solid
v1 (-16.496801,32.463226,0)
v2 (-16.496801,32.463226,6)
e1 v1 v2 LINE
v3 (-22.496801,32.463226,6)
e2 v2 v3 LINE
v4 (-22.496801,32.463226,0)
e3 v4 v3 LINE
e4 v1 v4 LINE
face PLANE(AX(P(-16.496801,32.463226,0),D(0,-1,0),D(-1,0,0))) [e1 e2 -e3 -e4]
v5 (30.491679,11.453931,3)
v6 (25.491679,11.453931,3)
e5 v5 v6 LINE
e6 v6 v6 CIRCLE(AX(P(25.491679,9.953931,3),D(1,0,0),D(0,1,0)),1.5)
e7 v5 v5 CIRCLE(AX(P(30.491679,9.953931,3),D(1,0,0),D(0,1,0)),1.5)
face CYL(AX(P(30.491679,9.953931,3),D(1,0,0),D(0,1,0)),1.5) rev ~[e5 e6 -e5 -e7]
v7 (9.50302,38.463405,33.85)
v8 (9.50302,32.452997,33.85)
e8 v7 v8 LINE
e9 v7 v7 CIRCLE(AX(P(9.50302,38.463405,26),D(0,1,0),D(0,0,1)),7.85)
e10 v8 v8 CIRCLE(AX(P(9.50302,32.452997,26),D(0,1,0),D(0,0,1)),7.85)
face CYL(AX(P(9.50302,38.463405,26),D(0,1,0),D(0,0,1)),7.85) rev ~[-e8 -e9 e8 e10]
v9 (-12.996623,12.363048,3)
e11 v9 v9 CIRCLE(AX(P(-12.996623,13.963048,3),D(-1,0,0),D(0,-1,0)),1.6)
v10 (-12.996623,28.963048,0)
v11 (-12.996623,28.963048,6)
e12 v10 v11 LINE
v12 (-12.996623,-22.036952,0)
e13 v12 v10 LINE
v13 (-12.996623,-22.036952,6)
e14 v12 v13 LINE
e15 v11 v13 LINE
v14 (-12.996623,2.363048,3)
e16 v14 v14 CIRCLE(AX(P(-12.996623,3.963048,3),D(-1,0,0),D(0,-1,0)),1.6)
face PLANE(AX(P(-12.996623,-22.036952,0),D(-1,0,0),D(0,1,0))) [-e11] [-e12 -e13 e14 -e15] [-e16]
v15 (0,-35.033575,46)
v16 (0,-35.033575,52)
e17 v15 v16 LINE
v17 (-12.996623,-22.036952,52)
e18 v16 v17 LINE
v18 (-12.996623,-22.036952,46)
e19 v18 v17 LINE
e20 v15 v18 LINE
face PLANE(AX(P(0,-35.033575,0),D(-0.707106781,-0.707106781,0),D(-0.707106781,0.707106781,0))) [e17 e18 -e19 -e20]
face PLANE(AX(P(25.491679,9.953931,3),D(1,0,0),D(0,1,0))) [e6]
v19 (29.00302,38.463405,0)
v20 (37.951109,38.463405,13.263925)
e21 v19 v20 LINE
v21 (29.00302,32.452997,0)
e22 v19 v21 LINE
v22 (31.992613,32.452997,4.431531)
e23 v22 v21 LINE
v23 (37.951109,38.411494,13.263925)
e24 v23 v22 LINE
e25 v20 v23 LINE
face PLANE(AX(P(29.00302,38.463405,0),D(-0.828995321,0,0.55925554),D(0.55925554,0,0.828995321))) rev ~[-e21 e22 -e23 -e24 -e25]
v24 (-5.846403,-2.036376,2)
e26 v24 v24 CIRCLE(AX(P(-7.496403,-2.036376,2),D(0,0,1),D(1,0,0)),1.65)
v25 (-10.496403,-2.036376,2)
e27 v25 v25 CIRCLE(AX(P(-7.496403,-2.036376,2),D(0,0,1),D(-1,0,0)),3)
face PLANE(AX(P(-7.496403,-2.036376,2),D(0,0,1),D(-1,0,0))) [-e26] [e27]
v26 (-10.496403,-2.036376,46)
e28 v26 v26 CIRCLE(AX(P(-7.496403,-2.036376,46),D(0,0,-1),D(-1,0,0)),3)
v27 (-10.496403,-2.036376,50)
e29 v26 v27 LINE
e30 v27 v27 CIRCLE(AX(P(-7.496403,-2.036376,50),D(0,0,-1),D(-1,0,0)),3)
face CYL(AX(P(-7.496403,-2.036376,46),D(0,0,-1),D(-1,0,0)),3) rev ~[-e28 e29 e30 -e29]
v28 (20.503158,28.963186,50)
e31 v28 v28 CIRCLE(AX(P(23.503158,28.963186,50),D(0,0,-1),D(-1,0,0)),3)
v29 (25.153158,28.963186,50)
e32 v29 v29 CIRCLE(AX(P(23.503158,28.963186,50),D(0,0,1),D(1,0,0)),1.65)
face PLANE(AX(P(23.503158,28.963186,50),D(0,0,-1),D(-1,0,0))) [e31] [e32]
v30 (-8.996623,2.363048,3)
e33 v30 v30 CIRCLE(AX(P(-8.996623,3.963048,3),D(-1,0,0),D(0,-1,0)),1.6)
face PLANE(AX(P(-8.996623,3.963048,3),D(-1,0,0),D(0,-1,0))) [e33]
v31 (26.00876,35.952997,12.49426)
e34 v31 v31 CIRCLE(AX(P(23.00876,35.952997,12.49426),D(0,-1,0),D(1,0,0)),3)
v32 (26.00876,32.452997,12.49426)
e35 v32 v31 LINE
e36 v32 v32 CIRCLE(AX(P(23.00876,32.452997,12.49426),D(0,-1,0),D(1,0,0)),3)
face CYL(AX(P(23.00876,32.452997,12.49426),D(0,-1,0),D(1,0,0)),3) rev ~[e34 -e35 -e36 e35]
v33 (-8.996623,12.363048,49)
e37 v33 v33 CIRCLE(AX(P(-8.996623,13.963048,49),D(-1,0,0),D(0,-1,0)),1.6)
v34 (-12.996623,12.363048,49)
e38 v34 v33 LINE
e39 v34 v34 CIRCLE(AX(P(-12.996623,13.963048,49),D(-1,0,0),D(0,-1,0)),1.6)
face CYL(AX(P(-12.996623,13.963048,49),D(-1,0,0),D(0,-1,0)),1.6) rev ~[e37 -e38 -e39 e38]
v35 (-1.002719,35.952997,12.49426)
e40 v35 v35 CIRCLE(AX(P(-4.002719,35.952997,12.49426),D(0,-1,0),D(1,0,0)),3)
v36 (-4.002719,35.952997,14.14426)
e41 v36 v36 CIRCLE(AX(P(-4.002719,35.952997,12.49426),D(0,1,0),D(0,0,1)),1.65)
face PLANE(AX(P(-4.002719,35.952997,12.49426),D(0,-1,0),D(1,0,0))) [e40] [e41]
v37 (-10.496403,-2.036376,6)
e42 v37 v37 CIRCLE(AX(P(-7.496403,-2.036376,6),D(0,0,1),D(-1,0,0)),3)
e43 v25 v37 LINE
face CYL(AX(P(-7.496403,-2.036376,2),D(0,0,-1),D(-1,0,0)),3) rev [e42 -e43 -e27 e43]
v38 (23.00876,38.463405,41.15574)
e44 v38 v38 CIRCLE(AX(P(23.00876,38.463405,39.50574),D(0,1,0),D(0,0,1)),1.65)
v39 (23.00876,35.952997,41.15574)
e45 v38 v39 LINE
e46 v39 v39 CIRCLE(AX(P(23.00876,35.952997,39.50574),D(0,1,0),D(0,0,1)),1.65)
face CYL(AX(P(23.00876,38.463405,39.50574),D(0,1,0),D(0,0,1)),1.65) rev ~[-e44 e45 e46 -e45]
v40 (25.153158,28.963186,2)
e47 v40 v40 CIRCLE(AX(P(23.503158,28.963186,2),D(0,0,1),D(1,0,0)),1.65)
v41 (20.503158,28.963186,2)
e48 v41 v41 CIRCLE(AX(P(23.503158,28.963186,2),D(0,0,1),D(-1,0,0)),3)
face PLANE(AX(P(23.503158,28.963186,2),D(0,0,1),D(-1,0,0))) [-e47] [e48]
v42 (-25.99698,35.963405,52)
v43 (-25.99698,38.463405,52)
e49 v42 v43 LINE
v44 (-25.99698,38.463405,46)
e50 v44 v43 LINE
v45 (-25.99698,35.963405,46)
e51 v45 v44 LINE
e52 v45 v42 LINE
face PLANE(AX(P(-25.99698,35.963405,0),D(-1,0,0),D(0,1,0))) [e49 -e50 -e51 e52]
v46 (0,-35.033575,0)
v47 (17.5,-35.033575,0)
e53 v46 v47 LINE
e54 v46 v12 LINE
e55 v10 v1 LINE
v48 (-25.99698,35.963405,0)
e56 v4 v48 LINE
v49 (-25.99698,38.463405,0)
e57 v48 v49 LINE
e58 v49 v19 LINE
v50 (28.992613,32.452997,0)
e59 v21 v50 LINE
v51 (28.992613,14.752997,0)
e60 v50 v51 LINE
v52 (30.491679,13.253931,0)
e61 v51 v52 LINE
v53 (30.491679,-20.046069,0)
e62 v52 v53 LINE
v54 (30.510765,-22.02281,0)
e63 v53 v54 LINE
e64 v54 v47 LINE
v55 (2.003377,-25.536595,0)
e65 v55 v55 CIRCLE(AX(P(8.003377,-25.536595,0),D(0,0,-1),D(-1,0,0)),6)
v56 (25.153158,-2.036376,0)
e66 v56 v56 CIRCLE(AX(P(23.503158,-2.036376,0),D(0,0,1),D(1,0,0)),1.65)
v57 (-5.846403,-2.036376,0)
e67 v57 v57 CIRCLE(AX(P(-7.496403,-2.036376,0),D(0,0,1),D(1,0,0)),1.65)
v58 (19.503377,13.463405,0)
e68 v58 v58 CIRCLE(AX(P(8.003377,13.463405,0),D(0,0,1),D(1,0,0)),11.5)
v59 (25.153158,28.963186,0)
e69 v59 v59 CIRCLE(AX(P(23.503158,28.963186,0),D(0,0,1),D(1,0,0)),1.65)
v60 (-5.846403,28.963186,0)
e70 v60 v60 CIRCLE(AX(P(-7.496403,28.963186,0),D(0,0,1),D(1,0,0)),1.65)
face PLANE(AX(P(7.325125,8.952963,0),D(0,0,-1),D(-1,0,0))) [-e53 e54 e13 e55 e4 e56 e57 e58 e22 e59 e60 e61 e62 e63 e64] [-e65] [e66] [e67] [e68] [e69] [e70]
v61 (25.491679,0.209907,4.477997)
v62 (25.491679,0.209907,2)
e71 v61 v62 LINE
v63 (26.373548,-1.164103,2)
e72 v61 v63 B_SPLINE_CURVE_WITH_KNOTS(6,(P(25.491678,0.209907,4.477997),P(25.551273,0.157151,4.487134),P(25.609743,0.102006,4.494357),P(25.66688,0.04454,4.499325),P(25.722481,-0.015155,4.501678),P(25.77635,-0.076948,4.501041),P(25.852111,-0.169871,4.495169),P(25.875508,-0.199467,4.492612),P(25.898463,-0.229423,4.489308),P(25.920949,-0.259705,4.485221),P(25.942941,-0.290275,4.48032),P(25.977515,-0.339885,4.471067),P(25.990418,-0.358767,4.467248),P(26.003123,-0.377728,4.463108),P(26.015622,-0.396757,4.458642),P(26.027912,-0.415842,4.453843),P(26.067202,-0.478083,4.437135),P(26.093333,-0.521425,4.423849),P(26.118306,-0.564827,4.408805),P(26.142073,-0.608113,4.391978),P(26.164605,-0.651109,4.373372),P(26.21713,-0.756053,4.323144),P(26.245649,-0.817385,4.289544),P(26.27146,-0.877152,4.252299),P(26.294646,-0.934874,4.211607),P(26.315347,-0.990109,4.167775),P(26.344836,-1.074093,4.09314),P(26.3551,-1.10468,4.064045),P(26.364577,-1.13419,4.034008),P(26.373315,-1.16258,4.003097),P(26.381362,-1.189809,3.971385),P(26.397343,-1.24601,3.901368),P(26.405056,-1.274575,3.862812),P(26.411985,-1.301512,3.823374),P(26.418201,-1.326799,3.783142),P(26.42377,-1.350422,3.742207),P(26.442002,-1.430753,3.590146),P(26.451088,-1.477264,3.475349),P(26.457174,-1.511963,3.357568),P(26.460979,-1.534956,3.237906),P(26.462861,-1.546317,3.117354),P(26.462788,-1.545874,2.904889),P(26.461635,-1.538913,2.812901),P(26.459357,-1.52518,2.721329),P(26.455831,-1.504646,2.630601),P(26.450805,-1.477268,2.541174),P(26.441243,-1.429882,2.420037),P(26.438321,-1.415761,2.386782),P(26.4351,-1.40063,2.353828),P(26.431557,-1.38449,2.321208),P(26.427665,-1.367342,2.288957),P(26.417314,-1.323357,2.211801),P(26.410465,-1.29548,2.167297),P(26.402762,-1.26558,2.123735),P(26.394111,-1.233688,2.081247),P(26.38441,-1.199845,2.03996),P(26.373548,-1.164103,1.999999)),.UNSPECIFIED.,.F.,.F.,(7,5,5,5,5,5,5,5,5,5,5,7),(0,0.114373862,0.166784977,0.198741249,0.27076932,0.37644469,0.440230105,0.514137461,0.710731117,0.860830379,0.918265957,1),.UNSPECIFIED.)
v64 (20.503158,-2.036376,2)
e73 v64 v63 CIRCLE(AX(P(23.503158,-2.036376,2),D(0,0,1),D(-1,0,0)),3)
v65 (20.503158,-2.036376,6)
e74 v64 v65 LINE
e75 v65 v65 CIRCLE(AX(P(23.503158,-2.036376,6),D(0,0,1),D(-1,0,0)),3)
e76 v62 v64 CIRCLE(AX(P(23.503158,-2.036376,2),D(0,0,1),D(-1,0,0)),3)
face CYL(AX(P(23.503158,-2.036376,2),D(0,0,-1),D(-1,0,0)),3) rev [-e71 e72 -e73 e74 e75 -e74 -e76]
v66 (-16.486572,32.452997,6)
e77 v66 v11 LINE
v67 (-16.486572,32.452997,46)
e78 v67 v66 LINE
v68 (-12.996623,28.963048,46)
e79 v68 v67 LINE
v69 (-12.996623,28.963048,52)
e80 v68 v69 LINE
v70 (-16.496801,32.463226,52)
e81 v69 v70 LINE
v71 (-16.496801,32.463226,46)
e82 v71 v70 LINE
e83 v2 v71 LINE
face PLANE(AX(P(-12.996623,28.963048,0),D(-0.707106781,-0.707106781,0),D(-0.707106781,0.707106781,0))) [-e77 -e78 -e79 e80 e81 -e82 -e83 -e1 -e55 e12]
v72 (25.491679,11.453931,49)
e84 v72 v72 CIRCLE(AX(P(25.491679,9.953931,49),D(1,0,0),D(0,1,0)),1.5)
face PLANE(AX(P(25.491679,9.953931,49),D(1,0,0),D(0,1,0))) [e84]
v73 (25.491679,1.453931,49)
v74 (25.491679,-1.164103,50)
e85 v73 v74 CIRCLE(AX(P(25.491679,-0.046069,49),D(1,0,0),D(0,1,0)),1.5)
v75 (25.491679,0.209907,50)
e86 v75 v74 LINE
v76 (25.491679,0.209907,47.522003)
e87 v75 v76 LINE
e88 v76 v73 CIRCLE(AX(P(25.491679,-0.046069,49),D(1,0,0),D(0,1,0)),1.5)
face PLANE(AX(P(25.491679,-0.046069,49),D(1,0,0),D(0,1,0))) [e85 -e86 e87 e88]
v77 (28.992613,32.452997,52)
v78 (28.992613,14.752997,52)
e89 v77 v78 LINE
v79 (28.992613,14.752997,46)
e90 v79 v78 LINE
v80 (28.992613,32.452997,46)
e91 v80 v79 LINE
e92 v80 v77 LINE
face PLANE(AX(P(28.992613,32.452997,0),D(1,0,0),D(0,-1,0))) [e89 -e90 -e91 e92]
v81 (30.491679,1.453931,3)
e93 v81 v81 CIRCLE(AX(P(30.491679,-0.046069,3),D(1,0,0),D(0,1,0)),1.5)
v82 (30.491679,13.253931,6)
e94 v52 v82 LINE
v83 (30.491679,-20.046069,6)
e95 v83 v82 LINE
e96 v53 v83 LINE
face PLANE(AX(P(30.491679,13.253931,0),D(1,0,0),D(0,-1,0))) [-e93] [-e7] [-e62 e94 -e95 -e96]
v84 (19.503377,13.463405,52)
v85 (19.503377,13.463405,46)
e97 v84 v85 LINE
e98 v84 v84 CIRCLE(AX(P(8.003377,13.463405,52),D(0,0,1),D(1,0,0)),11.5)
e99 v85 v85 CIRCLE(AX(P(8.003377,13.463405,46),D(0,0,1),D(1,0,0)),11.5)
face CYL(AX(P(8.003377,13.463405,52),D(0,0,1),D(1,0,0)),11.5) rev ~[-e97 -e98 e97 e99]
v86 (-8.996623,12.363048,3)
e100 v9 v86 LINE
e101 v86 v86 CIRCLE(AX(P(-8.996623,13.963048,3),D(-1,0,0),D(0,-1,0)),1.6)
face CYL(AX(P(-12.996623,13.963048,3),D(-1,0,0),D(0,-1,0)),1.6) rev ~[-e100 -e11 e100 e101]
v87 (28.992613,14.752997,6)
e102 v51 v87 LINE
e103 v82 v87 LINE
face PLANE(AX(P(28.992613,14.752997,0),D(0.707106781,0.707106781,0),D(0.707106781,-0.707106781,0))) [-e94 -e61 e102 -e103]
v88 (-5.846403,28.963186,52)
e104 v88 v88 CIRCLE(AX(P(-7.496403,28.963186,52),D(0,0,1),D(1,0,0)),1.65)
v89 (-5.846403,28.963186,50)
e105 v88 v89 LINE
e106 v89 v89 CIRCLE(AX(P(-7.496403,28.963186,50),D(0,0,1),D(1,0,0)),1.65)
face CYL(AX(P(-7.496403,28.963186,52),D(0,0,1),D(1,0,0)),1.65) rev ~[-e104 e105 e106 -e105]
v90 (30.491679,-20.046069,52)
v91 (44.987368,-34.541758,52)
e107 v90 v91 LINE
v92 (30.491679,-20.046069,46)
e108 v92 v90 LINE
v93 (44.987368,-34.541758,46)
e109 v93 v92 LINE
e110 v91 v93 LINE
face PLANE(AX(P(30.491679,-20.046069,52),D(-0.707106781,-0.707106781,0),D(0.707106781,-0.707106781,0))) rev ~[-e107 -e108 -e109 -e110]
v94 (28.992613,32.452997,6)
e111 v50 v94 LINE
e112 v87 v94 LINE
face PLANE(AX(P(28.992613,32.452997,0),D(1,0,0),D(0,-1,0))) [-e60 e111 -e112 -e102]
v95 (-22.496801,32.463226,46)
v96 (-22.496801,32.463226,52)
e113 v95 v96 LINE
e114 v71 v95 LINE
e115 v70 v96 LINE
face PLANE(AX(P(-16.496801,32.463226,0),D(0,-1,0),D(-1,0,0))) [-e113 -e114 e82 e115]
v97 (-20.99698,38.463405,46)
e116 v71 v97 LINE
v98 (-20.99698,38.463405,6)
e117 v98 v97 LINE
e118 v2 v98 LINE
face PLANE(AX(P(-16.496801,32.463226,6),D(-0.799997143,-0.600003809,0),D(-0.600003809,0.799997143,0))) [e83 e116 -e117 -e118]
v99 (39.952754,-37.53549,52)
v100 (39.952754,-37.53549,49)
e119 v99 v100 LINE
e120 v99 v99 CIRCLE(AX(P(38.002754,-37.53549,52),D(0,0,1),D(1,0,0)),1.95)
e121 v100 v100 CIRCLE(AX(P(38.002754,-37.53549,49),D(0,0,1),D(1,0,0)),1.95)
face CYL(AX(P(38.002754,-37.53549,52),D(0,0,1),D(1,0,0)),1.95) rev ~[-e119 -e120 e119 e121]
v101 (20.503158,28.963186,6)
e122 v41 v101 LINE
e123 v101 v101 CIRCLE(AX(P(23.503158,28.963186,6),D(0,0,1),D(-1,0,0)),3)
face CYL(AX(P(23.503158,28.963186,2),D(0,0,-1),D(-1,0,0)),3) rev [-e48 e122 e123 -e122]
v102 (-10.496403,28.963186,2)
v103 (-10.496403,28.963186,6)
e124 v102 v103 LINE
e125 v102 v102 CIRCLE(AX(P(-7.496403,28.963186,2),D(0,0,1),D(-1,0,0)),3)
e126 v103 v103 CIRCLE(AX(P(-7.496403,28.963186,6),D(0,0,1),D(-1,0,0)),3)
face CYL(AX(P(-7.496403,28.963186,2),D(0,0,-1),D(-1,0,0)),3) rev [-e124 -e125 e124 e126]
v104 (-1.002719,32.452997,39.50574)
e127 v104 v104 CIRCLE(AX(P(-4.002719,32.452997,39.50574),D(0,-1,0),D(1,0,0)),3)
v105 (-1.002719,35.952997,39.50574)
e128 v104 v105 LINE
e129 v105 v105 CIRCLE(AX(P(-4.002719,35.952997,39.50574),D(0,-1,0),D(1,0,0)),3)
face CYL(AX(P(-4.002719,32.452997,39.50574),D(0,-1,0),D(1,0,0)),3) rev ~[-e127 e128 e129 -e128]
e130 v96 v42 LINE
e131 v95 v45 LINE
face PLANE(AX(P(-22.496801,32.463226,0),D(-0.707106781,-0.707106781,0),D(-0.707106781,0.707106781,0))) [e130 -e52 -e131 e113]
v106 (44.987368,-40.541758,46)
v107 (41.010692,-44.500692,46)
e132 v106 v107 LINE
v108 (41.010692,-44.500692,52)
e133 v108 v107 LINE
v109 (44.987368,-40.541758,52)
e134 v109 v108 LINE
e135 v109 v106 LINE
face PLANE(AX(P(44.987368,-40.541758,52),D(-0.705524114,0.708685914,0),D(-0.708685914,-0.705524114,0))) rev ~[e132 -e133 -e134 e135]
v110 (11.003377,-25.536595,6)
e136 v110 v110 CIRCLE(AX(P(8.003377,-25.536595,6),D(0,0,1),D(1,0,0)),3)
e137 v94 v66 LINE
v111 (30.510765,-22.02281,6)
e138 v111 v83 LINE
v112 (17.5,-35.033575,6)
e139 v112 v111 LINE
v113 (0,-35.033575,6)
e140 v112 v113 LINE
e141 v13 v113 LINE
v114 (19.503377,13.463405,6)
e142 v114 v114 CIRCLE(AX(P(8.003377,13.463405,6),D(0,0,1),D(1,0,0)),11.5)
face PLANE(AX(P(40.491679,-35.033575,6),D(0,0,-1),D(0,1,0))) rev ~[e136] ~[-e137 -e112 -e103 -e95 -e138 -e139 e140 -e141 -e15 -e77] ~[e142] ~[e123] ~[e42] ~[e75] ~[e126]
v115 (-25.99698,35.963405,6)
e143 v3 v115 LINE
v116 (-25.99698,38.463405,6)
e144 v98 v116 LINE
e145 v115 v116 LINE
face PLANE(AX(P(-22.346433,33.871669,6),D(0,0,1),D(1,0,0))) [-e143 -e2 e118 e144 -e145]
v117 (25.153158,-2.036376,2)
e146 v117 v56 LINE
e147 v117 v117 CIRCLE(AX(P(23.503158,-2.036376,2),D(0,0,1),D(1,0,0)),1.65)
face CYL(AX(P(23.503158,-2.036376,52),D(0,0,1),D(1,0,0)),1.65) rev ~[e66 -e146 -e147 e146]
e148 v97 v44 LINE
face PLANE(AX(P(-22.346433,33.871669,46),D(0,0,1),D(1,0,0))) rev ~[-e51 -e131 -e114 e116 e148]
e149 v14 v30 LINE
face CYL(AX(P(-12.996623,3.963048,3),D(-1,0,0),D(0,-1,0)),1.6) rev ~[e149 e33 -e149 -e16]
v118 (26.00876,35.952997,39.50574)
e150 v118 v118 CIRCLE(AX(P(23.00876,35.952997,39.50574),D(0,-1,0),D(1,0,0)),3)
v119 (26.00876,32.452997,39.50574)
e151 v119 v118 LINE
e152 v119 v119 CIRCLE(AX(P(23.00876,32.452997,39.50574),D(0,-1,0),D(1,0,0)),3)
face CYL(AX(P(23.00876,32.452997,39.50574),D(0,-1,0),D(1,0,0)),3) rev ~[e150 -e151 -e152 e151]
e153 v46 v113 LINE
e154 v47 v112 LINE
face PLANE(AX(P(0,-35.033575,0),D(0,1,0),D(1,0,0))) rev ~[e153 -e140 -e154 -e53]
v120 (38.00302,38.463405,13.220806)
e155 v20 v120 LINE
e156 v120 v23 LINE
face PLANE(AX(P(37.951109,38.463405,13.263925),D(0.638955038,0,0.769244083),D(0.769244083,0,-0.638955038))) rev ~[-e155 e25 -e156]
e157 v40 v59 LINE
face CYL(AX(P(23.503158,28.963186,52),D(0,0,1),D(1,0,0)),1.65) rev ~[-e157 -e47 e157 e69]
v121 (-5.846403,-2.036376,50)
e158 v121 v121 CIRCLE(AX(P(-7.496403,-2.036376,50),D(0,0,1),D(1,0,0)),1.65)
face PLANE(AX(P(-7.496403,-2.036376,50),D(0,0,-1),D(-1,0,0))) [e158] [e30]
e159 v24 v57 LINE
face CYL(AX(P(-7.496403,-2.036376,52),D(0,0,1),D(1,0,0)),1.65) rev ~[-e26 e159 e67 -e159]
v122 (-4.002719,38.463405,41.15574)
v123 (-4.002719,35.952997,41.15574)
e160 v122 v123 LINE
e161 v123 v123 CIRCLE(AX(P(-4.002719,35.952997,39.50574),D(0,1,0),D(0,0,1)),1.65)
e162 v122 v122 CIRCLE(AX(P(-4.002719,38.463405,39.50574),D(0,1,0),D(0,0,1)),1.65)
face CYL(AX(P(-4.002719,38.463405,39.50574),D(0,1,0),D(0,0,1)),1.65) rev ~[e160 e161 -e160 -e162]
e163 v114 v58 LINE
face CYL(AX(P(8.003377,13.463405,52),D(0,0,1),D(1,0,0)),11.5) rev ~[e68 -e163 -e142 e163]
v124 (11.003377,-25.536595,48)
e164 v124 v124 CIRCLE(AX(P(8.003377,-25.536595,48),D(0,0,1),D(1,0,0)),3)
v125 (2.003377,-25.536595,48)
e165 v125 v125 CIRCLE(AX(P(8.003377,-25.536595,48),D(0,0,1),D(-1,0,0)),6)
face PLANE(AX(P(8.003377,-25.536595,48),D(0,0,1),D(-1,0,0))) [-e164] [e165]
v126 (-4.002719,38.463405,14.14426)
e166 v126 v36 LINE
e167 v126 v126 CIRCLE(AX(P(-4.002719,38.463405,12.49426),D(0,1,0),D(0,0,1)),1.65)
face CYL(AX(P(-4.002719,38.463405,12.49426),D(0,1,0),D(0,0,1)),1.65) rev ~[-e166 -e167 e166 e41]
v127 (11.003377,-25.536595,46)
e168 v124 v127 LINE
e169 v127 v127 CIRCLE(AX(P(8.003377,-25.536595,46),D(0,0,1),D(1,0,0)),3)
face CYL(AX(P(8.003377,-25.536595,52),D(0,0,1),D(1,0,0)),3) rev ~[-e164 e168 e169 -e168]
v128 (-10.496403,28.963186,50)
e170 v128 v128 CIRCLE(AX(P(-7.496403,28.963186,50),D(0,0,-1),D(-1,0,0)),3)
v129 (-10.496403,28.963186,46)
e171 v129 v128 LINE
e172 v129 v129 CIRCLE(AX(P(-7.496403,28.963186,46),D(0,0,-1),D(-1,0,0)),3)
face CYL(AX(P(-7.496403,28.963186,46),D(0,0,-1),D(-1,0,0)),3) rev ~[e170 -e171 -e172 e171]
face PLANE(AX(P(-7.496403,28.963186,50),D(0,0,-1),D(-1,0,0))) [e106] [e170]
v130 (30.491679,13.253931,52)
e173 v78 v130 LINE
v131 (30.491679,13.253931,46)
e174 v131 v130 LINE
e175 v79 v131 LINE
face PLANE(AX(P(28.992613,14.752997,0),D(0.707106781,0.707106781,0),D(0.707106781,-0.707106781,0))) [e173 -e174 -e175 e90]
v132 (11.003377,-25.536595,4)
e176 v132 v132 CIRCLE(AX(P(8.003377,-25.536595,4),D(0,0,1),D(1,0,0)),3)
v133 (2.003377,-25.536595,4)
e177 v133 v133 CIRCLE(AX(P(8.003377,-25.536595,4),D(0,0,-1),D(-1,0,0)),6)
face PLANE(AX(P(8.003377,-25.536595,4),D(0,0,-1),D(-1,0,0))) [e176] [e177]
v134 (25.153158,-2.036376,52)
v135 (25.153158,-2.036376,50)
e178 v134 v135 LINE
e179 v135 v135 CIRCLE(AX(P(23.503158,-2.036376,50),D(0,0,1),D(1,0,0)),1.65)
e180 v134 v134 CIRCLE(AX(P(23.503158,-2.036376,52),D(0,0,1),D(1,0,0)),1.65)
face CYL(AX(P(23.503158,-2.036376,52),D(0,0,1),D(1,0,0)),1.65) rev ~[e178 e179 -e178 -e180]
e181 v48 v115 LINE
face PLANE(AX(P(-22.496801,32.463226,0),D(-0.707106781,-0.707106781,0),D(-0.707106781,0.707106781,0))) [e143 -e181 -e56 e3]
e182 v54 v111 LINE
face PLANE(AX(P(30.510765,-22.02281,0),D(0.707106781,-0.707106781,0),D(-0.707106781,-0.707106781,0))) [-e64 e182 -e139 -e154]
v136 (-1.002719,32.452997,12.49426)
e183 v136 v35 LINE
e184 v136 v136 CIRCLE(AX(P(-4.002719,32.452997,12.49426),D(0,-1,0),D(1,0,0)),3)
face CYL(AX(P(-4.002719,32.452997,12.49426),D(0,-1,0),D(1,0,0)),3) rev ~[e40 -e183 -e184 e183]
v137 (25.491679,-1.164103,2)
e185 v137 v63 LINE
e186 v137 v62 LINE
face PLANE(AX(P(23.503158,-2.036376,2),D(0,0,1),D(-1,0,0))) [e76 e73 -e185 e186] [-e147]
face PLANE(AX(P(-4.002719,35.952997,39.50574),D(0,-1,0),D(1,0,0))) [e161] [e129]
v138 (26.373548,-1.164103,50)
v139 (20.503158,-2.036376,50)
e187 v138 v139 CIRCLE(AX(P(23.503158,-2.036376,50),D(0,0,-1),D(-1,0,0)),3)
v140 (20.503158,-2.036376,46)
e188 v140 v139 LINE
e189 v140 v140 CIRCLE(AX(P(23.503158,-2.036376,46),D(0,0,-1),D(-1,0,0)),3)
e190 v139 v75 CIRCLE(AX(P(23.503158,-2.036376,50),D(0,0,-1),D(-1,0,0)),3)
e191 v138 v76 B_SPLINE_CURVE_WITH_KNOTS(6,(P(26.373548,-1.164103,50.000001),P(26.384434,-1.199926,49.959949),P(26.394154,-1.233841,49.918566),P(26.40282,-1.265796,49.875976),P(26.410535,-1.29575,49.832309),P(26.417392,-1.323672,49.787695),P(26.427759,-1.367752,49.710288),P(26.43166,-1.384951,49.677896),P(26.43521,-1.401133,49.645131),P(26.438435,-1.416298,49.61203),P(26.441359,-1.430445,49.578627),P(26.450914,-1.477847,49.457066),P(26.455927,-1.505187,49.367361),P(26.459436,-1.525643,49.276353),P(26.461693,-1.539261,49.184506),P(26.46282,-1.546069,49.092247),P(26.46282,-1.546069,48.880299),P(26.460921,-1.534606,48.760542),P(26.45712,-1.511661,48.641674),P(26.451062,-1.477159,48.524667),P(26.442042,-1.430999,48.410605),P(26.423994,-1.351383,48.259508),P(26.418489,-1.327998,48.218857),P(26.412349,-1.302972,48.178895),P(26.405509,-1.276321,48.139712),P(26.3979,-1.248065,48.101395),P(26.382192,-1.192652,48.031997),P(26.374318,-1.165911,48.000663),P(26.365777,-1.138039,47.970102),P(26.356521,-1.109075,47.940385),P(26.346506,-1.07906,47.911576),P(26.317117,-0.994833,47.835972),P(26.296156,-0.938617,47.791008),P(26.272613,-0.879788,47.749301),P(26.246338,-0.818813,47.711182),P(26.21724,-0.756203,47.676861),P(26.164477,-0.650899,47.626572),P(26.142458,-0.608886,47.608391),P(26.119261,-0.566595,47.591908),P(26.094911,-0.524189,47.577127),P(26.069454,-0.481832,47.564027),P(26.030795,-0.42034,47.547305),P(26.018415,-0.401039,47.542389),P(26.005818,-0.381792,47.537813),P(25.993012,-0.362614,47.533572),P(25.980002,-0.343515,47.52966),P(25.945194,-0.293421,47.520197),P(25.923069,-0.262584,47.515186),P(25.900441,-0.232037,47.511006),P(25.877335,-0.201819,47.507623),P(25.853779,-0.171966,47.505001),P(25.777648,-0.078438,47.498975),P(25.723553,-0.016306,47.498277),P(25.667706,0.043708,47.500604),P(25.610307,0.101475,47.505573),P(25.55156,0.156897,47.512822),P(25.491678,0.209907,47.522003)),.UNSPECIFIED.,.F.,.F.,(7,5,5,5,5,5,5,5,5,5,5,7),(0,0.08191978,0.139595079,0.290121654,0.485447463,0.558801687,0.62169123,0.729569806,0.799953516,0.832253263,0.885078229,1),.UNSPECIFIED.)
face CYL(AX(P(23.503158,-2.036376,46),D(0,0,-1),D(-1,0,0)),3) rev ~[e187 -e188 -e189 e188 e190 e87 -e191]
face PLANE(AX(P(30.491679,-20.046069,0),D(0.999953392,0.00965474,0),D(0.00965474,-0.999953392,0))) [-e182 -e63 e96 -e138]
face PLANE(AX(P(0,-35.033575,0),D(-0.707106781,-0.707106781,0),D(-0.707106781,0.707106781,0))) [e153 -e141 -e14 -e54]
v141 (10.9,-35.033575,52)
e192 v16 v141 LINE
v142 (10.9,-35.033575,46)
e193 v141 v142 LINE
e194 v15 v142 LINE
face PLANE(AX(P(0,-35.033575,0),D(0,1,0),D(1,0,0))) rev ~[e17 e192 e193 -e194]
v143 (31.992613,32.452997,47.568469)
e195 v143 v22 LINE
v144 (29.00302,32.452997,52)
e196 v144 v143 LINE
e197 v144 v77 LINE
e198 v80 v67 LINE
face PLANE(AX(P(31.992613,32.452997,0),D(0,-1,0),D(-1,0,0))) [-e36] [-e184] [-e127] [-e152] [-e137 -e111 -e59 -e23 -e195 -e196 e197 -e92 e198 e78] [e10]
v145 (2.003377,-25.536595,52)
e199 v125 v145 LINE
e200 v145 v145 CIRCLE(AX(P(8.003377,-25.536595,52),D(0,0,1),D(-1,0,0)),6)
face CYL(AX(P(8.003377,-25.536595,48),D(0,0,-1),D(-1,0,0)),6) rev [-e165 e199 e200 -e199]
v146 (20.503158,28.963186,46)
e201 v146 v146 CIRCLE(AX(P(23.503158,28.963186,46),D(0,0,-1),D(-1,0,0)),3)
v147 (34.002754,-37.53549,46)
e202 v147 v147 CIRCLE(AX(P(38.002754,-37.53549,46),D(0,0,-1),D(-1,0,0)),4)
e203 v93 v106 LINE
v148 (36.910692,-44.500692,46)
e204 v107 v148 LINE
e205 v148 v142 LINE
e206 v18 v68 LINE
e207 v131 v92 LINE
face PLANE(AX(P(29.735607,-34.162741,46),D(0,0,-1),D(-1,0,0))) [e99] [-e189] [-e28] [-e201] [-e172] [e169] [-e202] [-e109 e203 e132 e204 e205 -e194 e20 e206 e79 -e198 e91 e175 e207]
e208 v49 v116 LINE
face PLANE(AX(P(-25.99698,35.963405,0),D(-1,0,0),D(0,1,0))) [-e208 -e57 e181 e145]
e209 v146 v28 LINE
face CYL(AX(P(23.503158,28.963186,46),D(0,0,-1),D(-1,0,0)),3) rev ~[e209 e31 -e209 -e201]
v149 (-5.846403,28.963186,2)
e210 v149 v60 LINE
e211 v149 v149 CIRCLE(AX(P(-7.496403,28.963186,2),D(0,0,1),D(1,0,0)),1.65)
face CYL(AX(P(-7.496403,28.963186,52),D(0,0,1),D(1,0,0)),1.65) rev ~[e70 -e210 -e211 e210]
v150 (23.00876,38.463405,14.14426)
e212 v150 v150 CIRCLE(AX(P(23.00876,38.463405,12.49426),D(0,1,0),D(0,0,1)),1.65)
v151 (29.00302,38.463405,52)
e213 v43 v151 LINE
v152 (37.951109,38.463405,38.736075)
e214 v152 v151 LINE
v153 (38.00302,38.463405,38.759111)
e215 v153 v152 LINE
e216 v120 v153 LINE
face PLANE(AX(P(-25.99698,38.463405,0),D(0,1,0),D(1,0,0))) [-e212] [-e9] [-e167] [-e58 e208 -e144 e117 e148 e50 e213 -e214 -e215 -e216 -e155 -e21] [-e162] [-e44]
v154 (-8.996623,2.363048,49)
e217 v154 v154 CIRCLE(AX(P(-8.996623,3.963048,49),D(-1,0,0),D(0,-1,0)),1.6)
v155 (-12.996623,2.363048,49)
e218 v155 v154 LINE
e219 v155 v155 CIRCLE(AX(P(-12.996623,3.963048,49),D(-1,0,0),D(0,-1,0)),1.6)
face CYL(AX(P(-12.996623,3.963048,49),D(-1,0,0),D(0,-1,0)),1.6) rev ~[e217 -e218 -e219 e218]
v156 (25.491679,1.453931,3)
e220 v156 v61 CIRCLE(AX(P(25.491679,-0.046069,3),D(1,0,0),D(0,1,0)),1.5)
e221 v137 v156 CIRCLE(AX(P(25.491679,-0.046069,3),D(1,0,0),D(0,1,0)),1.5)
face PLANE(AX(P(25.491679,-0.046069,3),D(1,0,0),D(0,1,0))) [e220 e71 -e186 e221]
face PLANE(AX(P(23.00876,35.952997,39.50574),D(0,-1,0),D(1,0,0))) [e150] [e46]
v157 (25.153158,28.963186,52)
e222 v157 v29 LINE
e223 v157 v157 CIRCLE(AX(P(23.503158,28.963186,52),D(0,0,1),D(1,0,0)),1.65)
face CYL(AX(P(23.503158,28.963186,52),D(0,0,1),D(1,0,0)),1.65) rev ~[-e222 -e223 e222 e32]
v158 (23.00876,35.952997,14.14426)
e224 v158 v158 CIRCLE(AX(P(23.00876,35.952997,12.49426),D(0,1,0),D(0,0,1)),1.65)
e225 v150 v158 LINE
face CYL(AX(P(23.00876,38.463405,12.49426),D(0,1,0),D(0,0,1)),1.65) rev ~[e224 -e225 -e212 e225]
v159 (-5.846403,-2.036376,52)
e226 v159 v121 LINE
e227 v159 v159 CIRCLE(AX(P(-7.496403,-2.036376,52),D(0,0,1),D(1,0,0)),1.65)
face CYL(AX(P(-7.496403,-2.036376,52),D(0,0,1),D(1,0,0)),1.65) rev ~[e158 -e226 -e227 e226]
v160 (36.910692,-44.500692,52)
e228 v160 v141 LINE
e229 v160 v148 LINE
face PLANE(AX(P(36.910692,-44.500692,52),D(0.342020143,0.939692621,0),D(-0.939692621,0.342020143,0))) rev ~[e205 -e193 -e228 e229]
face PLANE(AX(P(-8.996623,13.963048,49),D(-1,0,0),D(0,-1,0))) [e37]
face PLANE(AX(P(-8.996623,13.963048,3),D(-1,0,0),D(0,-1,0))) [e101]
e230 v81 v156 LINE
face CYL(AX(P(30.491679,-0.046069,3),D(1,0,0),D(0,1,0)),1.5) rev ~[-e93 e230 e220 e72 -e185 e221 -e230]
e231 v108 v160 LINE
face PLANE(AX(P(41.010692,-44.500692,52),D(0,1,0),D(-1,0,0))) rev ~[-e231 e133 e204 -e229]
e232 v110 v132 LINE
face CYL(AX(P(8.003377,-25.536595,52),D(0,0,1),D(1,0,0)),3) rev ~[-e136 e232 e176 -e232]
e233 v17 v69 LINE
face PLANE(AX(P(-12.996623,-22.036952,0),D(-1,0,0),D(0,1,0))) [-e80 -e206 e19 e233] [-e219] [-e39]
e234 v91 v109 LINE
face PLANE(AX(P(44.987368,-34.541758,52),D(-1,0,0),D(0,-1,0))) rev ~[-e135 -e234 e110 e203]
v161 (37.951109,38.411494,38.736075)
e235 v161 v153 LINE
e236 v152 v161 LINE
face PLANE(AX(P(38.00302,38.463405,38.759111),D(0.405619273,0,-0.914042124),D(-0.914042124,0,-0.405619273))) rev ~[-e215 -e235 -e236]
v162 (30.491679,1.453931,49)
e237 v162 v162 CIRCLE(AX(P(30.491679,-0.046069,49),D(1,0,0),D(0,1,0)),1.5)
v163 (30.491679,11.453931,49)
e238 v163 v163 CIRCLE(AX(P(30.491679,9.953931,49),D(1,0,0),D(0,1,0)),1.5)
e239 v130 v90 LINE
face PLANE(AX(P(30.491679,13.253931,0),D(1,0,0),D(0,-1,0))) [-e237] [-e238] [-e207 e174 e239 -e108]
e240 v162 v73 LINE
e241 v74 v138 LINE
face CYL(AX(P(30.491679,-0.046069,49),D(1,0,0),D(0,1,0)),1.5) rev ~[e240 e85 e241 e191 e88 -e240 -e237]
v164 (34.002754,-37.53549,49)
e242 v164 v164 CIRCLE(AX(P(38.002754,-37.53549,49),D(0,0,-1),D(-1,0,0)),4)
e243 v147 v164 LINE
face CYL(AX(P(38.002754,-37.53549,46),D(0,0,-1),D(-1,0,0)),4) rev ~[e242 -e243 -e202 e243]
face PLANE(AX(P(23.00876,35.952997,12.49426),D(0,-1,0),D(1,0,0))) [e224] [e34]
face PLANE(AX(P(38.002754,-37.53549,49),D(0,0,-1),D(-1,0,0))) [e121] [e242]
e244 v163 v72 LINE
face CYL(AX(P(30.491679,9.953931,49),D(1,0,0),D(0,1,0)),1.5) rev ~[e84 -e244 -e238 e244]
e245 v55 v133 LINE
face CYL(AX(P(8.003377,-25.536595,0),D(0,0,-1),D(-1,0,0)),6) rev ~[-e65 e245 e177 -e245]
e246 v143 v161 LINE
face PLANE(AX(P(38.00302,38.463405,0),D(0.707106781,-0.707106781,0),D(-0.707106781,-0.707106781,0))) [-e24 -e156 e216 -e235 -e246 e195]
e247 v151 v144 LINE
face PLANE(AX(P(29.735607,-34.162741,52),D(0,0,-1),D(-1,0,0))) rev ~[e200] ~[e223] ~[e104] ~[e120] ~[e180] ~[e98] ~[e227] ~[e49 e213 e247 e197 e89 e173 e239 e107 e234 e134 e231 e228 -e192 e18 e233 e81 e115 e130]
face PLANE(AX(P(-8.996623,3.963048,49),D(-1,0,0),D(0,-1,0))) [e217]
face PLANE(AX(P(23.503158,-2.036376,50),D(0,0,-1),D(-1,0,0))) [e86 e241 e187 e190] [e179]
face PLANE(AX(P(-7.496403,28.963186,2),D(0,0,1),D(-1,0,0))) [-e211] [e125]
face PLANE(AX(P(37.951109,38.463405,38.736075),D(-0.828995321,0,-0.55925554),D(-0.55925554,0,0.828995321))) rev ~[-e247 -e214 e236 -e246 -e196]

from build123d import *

# Parameters (mm, degrees)
BOSS_EXTRUDE1_DEPTH = 52
BOSS_EXTRUDE3_START = 52
BOSS_EXTRUDE3_DEPTH = 6
CUT_EXTRUDE5_DEPTH  = 76
SKETCH9_W           = 5
SKETCH9_H           = 28
SKETCH9_R           = 7.85
SKETCH9_R_2         = 1.65
CUT_EXTRUDE6_DEPTH  = 21
SKETCH14_R          = 11.5
SKETCH14_R_2        = 1.65
SKETCH14_R_3        = 3
SKETCH14_R_4        = 1.95
CUT_EXTRUDE7_DEPTH  = 62
SKETCH25_R          = 3
CUT_EXTRUDE8_DEPTH  = 3.5
SKETCH26_R          = 6
CUT_EXTRUDE9_DEPTH  = 4
CUT_EXTRUDE10_START = -4
SKETCH27_R          = 6
CUT_EXTRUDE10_DEPTH = 4
SKETCH34_R          = 3
CUT_EXTRUDE11_DEPTH = 4
CUT_EXTRUDE12_START = -4
SKETCH35_R          = 3
CUT_EXTRUDE12_DEPTH = 4
SKETCH36_R          = 4
CUT_EXTRUDE13_DEPTH = 3
SKETCH37_R          = 1.5
CUT_EXTRUDE14_DEPTH = 5
SKETCH38_R          = 1.6
CUT_EXTRUDE15_DEPTH = 4
CUT_EXTRUDE16_START = -6
CUT_EXTRUDE16_DEPTH = 40


with BuildPart() as part:
    # Sketch1 → Boss-Extrude1 (new body)
    with BuildSketch(Plane.XY):
        Polygon((31.992612588, 32.452997252), (38.003020228, 38.463404892), (-25.996979772, 38.463404892), (-25.996979772, 35.963404892), (-22.496801205, 32.463226325), (-16.496801205, 32.463226325), (-12.996622638, 28.963047758), (-12.996622638, -22.036952242), (0, -35.03357488), (10.9, -35.03357488), (17.5, -35.03357488), (30.510764774, -22.022810106), (30.491678964, -20.046069124), (30.491678964, 13.253930876), (28.992612588, 14.752997252), (28.992612588, 32.452997252), align=None)
    extrude(amount=BOSS_EXTRUDE1_DEPTH)

    # Sketch1<4> → Boss-Extrude3 (add)
    with BuildSketch(Plane.XY.offset(BOSS_EXTRUDE3_START)):
        Polygon((44.987367978, -34.541758139), (30.491678964, -20.046069124), (30.510764774, -22.022810106), (17.5, -35.03357488), (10.9, -35.03357488), (36.910691743, -44.500692447), (41.010691743, -44.500692447), (44.987367978, -40.541758139), align=None)
    extrude(amount=-BOSS_EXTRUDE3_DEPTH)

    # Sketch8 → Cut-Extrude5 (cut)
    with BuildSketch(Plane(origin=(40.491678964, 0, 0), x_dir=(0, 0, -1), z_dir=(1, 0, 0))):
        Polygon((-46, -49.839210224), (-6, -35.03357488), (-6, 32.452997252), (-46, 32.452997252), align=None)
    extrude(amount=-CUT_EXTRUDE5_DEPTH, mode=Mode.SUBTRACT)

    # Sketch9 → Cut-Extrude6 (cut)
    with BuildSketch(Plane(origin=(0, 38.463404892, 0), x_dir=(1, 0, 0), z_dir=(0, 1, 0))):
        with Locations((-23.496979772, -26)):
            Rectangle(SKETCH9_W, SKETCH9_H)
        Polygon((37.951108861, -38.736074871), (29.003020228, -52), (38.003020228, -52), (38.003020228, -38.759111283), align=None)
        Polygon((38.003020228, 0), (29.003020228, 0), (37.951108861, -13.263925129), (38.003020228, -13.220806137), align=None)
        with Locations((9.503020228, -26)):
            Circle(SKETCH9_R)
        with Locations((-4.002719293, -12.494260479)):
            Circle(SKETCH9_R_2)
        with Locations((23.008759749, -12.494260479)):
            Circle(SKETCH9_R_2)
        with Locations((23.008759749, -39.505739521)):
            Circle(SKETCH9_R_2)
        with Locations((-4.002719293, -39.505739521)):
            Circle(SKETCH9_R_2)
    extrude(amount=-CUT_EXTRUDE6_DEPTH, mode=Mode.SUBTRACT)

    # Sketch14 → Cut-Extrude7 (cut)
    with BuildSketch(Plane.XY.offset(52)):
        with Locations((8.003377362, 13.463404892)):
            Circle(SKETCH14_R)
        with Locations((-7.496403282, -2.036375752)):
            Circle(SKETCH14_R_2)
        with Locations((-7.496403282, 28.963185535)):
            Circle(SKETCH14_R_2)
        with Locations((23.503158005, 28.963185535)):
            Circle(SKETCH14_R_2)
        with Locations((23.503158005, -2.036375752)):
            Circle(SKETCH14_R_2)
        with Locations((8.003377362, -25.536595108)):
            Circle(SKETCH14_R_3)
        with Locations((38.002754428, -37.535489875)):
            Circle(SKETCH14_R_4)
    extrude(amount=-CUT_EXTRUDE7_DEPTH, mode=Mode.SUBTRACT)

    # Sketch25 → Cut-Extrude8 (cut)
    with BuildSketch(Plane.XZ.offset(-32.452997252)):
        with Locations((-4.002719293, 39.505739521)):
            Circle(SKETCH25_R)
        with Locations((23.008759749, 39.505739521)):
            Circle(SKETCH25_R)
        with Locations((23.008759749, 12.494260479)):
            Circle(SKETCH25_R)
        with Locations((-4.002719293, 12.494260479)):
            Circle(SKETCH25_R)
    extrude(amount=-CUT_EXTRUDE8_DEPTH, mode=Mode.SUBTRACT)

    # Sketch26 → Cut-Extrude9 (cut)
    with BuildSketch(Plane(origin=(0, 0, 0), x_dir=(-1, 0, 0), z_dir=(0, 0, -1))):
        with Locations((-8.003377362, -25.536595108)):
            Circle(SKETCH26_R)
    extrude(amount=-CUT_EXTRUDE9_DEPTH, mode=Mode.SUBTRACT)

    # Sketch27 → Cut-Extrude10 (cut)
    with BuildSketch(Plane.XY.offset(52).offset(CUT_EXTRUDE10_START)):
        with Locations((8.003377362, -25.536595108)):
            Circle(SKETCH27_R)
    extrude(amount=CUT_EXTRUDE10_DEPTH, mode=Mode.SUBTRACT)

    # Sketch34 → Cut-Extrude11 (cut)
    with BuildSketch(Plane(origin=(0, 0, 46), x_dir=(-1, 0, 0), z_dir=(0, 0, -1))):
        with Locations((-23.503158005, 28.963185535)):
            Circle(SKETCH34_R)
        with Locations((7.496403282, 28.963185535)):
            Circle(SKETCH34_R)
        with Locations((7.496403282, -2.036375752)):
            Circle(SKETCH34_R)
        with Locations((-23.503158005, -2.036375752)):
            Circle(SKETCH34_R)
    extrude(amount=-CUT_EXTRUDE11_DEPTH, mode=Mode.SUBTRACT)

    # Sketch35 → Cut-Extrude12 (cut)
    with BuildSketch(Plane.XY.offset(6).offset(CUT_EXTRUDE12_START)):
        with Locations((-7.496403282, 28.963185535)):
            Circle(SKETCH35_R)
        with Locations((23.503158005, -2.036375752)):
            Circle(SKETCH35_R)
        with Locations((-7.496403282, -2.036375752)):
            Circle(SKETCH35_R)
        with Locations((23.503158005, 28.963185535)):
            Circle(SKETCH35_R)
    extrude(amount=CUT_EXTRUDE12_DEPTH, mode=Mode.SUBTRACT)

    # Sketch36 → Cut-Extrude13 (cut)
    with BuildSketch(Plane(origin=(0, 0, 46), x_dir=(-1, 0, 0), z_dir=(0, 0, -1))):
        with Locations((-38.002754428, -37.535489875)):
            Circle(SKETCH36_R)
    extrude(amount=-CUT_EXTRUDE13_DEPTH, mode=Mode.SUBTRACT)

    # Sketch37 → Cut-Extrude14 (cut)
    with BuildSketch(Plane(origin=(30.491678964, 0, 0), x_dir=(0, 0, -1), z_dir=(1, 0, 0))):
        with Locations((-3, 9.953930876)):
            Circle(SKETCH37_R)
        with Locations((-3, -0.046069124)):
            Circle(SKETCH37_R)
        with Locations((-49, 9.953930876)):
            Circle(SKETCH37_R)
        with Locations((-49, -0.046069124)):
            Circle(SKETCH37_R)
    extrude(amount=-CUT_EXTRUDE14_DEPTH, mode=Mode.SUBTRACT)

    # Sketch38 → Cut-Extrude15 (cut)
    with BuildSketch(Plane.ZY.offset(12.996622638)):
        with Locations((49, 13.963047758)):
            Circle(SKETCH38_R)
        with Locations((49, 3.963047758)):
            Circle(SKETCH38_R)
        with Locations((3, 13.963047758)):
            Circle(SKETCH38_R)
        with Locations((3, 3.963047758)):
            Circle(SKETCH38_R)
    extrude(amount=-CUT_EXTRUDE15_DEPTH, mode=Mode.SUBTRACT)

    # Sketch39 → Cut-Extrude16 (cut)
    with BuildSketch(Plane.XY.offset(12).offset(CUT_EXTRUDE16_START)):
        Polygon((-22.496979772, 38.463404892), (-25.996979772, 38.463404892), (-28.276459711, 32.970357014), (-19.102709926, 28.692570726), (-16.496801205, 32.463226325), (-20.996979772, 38.463404892), align=None)
    extrude(amount=CUT_EXTRUDE16_DEPTH, mode=Mode.SUBTRACT)


solid = part.part
